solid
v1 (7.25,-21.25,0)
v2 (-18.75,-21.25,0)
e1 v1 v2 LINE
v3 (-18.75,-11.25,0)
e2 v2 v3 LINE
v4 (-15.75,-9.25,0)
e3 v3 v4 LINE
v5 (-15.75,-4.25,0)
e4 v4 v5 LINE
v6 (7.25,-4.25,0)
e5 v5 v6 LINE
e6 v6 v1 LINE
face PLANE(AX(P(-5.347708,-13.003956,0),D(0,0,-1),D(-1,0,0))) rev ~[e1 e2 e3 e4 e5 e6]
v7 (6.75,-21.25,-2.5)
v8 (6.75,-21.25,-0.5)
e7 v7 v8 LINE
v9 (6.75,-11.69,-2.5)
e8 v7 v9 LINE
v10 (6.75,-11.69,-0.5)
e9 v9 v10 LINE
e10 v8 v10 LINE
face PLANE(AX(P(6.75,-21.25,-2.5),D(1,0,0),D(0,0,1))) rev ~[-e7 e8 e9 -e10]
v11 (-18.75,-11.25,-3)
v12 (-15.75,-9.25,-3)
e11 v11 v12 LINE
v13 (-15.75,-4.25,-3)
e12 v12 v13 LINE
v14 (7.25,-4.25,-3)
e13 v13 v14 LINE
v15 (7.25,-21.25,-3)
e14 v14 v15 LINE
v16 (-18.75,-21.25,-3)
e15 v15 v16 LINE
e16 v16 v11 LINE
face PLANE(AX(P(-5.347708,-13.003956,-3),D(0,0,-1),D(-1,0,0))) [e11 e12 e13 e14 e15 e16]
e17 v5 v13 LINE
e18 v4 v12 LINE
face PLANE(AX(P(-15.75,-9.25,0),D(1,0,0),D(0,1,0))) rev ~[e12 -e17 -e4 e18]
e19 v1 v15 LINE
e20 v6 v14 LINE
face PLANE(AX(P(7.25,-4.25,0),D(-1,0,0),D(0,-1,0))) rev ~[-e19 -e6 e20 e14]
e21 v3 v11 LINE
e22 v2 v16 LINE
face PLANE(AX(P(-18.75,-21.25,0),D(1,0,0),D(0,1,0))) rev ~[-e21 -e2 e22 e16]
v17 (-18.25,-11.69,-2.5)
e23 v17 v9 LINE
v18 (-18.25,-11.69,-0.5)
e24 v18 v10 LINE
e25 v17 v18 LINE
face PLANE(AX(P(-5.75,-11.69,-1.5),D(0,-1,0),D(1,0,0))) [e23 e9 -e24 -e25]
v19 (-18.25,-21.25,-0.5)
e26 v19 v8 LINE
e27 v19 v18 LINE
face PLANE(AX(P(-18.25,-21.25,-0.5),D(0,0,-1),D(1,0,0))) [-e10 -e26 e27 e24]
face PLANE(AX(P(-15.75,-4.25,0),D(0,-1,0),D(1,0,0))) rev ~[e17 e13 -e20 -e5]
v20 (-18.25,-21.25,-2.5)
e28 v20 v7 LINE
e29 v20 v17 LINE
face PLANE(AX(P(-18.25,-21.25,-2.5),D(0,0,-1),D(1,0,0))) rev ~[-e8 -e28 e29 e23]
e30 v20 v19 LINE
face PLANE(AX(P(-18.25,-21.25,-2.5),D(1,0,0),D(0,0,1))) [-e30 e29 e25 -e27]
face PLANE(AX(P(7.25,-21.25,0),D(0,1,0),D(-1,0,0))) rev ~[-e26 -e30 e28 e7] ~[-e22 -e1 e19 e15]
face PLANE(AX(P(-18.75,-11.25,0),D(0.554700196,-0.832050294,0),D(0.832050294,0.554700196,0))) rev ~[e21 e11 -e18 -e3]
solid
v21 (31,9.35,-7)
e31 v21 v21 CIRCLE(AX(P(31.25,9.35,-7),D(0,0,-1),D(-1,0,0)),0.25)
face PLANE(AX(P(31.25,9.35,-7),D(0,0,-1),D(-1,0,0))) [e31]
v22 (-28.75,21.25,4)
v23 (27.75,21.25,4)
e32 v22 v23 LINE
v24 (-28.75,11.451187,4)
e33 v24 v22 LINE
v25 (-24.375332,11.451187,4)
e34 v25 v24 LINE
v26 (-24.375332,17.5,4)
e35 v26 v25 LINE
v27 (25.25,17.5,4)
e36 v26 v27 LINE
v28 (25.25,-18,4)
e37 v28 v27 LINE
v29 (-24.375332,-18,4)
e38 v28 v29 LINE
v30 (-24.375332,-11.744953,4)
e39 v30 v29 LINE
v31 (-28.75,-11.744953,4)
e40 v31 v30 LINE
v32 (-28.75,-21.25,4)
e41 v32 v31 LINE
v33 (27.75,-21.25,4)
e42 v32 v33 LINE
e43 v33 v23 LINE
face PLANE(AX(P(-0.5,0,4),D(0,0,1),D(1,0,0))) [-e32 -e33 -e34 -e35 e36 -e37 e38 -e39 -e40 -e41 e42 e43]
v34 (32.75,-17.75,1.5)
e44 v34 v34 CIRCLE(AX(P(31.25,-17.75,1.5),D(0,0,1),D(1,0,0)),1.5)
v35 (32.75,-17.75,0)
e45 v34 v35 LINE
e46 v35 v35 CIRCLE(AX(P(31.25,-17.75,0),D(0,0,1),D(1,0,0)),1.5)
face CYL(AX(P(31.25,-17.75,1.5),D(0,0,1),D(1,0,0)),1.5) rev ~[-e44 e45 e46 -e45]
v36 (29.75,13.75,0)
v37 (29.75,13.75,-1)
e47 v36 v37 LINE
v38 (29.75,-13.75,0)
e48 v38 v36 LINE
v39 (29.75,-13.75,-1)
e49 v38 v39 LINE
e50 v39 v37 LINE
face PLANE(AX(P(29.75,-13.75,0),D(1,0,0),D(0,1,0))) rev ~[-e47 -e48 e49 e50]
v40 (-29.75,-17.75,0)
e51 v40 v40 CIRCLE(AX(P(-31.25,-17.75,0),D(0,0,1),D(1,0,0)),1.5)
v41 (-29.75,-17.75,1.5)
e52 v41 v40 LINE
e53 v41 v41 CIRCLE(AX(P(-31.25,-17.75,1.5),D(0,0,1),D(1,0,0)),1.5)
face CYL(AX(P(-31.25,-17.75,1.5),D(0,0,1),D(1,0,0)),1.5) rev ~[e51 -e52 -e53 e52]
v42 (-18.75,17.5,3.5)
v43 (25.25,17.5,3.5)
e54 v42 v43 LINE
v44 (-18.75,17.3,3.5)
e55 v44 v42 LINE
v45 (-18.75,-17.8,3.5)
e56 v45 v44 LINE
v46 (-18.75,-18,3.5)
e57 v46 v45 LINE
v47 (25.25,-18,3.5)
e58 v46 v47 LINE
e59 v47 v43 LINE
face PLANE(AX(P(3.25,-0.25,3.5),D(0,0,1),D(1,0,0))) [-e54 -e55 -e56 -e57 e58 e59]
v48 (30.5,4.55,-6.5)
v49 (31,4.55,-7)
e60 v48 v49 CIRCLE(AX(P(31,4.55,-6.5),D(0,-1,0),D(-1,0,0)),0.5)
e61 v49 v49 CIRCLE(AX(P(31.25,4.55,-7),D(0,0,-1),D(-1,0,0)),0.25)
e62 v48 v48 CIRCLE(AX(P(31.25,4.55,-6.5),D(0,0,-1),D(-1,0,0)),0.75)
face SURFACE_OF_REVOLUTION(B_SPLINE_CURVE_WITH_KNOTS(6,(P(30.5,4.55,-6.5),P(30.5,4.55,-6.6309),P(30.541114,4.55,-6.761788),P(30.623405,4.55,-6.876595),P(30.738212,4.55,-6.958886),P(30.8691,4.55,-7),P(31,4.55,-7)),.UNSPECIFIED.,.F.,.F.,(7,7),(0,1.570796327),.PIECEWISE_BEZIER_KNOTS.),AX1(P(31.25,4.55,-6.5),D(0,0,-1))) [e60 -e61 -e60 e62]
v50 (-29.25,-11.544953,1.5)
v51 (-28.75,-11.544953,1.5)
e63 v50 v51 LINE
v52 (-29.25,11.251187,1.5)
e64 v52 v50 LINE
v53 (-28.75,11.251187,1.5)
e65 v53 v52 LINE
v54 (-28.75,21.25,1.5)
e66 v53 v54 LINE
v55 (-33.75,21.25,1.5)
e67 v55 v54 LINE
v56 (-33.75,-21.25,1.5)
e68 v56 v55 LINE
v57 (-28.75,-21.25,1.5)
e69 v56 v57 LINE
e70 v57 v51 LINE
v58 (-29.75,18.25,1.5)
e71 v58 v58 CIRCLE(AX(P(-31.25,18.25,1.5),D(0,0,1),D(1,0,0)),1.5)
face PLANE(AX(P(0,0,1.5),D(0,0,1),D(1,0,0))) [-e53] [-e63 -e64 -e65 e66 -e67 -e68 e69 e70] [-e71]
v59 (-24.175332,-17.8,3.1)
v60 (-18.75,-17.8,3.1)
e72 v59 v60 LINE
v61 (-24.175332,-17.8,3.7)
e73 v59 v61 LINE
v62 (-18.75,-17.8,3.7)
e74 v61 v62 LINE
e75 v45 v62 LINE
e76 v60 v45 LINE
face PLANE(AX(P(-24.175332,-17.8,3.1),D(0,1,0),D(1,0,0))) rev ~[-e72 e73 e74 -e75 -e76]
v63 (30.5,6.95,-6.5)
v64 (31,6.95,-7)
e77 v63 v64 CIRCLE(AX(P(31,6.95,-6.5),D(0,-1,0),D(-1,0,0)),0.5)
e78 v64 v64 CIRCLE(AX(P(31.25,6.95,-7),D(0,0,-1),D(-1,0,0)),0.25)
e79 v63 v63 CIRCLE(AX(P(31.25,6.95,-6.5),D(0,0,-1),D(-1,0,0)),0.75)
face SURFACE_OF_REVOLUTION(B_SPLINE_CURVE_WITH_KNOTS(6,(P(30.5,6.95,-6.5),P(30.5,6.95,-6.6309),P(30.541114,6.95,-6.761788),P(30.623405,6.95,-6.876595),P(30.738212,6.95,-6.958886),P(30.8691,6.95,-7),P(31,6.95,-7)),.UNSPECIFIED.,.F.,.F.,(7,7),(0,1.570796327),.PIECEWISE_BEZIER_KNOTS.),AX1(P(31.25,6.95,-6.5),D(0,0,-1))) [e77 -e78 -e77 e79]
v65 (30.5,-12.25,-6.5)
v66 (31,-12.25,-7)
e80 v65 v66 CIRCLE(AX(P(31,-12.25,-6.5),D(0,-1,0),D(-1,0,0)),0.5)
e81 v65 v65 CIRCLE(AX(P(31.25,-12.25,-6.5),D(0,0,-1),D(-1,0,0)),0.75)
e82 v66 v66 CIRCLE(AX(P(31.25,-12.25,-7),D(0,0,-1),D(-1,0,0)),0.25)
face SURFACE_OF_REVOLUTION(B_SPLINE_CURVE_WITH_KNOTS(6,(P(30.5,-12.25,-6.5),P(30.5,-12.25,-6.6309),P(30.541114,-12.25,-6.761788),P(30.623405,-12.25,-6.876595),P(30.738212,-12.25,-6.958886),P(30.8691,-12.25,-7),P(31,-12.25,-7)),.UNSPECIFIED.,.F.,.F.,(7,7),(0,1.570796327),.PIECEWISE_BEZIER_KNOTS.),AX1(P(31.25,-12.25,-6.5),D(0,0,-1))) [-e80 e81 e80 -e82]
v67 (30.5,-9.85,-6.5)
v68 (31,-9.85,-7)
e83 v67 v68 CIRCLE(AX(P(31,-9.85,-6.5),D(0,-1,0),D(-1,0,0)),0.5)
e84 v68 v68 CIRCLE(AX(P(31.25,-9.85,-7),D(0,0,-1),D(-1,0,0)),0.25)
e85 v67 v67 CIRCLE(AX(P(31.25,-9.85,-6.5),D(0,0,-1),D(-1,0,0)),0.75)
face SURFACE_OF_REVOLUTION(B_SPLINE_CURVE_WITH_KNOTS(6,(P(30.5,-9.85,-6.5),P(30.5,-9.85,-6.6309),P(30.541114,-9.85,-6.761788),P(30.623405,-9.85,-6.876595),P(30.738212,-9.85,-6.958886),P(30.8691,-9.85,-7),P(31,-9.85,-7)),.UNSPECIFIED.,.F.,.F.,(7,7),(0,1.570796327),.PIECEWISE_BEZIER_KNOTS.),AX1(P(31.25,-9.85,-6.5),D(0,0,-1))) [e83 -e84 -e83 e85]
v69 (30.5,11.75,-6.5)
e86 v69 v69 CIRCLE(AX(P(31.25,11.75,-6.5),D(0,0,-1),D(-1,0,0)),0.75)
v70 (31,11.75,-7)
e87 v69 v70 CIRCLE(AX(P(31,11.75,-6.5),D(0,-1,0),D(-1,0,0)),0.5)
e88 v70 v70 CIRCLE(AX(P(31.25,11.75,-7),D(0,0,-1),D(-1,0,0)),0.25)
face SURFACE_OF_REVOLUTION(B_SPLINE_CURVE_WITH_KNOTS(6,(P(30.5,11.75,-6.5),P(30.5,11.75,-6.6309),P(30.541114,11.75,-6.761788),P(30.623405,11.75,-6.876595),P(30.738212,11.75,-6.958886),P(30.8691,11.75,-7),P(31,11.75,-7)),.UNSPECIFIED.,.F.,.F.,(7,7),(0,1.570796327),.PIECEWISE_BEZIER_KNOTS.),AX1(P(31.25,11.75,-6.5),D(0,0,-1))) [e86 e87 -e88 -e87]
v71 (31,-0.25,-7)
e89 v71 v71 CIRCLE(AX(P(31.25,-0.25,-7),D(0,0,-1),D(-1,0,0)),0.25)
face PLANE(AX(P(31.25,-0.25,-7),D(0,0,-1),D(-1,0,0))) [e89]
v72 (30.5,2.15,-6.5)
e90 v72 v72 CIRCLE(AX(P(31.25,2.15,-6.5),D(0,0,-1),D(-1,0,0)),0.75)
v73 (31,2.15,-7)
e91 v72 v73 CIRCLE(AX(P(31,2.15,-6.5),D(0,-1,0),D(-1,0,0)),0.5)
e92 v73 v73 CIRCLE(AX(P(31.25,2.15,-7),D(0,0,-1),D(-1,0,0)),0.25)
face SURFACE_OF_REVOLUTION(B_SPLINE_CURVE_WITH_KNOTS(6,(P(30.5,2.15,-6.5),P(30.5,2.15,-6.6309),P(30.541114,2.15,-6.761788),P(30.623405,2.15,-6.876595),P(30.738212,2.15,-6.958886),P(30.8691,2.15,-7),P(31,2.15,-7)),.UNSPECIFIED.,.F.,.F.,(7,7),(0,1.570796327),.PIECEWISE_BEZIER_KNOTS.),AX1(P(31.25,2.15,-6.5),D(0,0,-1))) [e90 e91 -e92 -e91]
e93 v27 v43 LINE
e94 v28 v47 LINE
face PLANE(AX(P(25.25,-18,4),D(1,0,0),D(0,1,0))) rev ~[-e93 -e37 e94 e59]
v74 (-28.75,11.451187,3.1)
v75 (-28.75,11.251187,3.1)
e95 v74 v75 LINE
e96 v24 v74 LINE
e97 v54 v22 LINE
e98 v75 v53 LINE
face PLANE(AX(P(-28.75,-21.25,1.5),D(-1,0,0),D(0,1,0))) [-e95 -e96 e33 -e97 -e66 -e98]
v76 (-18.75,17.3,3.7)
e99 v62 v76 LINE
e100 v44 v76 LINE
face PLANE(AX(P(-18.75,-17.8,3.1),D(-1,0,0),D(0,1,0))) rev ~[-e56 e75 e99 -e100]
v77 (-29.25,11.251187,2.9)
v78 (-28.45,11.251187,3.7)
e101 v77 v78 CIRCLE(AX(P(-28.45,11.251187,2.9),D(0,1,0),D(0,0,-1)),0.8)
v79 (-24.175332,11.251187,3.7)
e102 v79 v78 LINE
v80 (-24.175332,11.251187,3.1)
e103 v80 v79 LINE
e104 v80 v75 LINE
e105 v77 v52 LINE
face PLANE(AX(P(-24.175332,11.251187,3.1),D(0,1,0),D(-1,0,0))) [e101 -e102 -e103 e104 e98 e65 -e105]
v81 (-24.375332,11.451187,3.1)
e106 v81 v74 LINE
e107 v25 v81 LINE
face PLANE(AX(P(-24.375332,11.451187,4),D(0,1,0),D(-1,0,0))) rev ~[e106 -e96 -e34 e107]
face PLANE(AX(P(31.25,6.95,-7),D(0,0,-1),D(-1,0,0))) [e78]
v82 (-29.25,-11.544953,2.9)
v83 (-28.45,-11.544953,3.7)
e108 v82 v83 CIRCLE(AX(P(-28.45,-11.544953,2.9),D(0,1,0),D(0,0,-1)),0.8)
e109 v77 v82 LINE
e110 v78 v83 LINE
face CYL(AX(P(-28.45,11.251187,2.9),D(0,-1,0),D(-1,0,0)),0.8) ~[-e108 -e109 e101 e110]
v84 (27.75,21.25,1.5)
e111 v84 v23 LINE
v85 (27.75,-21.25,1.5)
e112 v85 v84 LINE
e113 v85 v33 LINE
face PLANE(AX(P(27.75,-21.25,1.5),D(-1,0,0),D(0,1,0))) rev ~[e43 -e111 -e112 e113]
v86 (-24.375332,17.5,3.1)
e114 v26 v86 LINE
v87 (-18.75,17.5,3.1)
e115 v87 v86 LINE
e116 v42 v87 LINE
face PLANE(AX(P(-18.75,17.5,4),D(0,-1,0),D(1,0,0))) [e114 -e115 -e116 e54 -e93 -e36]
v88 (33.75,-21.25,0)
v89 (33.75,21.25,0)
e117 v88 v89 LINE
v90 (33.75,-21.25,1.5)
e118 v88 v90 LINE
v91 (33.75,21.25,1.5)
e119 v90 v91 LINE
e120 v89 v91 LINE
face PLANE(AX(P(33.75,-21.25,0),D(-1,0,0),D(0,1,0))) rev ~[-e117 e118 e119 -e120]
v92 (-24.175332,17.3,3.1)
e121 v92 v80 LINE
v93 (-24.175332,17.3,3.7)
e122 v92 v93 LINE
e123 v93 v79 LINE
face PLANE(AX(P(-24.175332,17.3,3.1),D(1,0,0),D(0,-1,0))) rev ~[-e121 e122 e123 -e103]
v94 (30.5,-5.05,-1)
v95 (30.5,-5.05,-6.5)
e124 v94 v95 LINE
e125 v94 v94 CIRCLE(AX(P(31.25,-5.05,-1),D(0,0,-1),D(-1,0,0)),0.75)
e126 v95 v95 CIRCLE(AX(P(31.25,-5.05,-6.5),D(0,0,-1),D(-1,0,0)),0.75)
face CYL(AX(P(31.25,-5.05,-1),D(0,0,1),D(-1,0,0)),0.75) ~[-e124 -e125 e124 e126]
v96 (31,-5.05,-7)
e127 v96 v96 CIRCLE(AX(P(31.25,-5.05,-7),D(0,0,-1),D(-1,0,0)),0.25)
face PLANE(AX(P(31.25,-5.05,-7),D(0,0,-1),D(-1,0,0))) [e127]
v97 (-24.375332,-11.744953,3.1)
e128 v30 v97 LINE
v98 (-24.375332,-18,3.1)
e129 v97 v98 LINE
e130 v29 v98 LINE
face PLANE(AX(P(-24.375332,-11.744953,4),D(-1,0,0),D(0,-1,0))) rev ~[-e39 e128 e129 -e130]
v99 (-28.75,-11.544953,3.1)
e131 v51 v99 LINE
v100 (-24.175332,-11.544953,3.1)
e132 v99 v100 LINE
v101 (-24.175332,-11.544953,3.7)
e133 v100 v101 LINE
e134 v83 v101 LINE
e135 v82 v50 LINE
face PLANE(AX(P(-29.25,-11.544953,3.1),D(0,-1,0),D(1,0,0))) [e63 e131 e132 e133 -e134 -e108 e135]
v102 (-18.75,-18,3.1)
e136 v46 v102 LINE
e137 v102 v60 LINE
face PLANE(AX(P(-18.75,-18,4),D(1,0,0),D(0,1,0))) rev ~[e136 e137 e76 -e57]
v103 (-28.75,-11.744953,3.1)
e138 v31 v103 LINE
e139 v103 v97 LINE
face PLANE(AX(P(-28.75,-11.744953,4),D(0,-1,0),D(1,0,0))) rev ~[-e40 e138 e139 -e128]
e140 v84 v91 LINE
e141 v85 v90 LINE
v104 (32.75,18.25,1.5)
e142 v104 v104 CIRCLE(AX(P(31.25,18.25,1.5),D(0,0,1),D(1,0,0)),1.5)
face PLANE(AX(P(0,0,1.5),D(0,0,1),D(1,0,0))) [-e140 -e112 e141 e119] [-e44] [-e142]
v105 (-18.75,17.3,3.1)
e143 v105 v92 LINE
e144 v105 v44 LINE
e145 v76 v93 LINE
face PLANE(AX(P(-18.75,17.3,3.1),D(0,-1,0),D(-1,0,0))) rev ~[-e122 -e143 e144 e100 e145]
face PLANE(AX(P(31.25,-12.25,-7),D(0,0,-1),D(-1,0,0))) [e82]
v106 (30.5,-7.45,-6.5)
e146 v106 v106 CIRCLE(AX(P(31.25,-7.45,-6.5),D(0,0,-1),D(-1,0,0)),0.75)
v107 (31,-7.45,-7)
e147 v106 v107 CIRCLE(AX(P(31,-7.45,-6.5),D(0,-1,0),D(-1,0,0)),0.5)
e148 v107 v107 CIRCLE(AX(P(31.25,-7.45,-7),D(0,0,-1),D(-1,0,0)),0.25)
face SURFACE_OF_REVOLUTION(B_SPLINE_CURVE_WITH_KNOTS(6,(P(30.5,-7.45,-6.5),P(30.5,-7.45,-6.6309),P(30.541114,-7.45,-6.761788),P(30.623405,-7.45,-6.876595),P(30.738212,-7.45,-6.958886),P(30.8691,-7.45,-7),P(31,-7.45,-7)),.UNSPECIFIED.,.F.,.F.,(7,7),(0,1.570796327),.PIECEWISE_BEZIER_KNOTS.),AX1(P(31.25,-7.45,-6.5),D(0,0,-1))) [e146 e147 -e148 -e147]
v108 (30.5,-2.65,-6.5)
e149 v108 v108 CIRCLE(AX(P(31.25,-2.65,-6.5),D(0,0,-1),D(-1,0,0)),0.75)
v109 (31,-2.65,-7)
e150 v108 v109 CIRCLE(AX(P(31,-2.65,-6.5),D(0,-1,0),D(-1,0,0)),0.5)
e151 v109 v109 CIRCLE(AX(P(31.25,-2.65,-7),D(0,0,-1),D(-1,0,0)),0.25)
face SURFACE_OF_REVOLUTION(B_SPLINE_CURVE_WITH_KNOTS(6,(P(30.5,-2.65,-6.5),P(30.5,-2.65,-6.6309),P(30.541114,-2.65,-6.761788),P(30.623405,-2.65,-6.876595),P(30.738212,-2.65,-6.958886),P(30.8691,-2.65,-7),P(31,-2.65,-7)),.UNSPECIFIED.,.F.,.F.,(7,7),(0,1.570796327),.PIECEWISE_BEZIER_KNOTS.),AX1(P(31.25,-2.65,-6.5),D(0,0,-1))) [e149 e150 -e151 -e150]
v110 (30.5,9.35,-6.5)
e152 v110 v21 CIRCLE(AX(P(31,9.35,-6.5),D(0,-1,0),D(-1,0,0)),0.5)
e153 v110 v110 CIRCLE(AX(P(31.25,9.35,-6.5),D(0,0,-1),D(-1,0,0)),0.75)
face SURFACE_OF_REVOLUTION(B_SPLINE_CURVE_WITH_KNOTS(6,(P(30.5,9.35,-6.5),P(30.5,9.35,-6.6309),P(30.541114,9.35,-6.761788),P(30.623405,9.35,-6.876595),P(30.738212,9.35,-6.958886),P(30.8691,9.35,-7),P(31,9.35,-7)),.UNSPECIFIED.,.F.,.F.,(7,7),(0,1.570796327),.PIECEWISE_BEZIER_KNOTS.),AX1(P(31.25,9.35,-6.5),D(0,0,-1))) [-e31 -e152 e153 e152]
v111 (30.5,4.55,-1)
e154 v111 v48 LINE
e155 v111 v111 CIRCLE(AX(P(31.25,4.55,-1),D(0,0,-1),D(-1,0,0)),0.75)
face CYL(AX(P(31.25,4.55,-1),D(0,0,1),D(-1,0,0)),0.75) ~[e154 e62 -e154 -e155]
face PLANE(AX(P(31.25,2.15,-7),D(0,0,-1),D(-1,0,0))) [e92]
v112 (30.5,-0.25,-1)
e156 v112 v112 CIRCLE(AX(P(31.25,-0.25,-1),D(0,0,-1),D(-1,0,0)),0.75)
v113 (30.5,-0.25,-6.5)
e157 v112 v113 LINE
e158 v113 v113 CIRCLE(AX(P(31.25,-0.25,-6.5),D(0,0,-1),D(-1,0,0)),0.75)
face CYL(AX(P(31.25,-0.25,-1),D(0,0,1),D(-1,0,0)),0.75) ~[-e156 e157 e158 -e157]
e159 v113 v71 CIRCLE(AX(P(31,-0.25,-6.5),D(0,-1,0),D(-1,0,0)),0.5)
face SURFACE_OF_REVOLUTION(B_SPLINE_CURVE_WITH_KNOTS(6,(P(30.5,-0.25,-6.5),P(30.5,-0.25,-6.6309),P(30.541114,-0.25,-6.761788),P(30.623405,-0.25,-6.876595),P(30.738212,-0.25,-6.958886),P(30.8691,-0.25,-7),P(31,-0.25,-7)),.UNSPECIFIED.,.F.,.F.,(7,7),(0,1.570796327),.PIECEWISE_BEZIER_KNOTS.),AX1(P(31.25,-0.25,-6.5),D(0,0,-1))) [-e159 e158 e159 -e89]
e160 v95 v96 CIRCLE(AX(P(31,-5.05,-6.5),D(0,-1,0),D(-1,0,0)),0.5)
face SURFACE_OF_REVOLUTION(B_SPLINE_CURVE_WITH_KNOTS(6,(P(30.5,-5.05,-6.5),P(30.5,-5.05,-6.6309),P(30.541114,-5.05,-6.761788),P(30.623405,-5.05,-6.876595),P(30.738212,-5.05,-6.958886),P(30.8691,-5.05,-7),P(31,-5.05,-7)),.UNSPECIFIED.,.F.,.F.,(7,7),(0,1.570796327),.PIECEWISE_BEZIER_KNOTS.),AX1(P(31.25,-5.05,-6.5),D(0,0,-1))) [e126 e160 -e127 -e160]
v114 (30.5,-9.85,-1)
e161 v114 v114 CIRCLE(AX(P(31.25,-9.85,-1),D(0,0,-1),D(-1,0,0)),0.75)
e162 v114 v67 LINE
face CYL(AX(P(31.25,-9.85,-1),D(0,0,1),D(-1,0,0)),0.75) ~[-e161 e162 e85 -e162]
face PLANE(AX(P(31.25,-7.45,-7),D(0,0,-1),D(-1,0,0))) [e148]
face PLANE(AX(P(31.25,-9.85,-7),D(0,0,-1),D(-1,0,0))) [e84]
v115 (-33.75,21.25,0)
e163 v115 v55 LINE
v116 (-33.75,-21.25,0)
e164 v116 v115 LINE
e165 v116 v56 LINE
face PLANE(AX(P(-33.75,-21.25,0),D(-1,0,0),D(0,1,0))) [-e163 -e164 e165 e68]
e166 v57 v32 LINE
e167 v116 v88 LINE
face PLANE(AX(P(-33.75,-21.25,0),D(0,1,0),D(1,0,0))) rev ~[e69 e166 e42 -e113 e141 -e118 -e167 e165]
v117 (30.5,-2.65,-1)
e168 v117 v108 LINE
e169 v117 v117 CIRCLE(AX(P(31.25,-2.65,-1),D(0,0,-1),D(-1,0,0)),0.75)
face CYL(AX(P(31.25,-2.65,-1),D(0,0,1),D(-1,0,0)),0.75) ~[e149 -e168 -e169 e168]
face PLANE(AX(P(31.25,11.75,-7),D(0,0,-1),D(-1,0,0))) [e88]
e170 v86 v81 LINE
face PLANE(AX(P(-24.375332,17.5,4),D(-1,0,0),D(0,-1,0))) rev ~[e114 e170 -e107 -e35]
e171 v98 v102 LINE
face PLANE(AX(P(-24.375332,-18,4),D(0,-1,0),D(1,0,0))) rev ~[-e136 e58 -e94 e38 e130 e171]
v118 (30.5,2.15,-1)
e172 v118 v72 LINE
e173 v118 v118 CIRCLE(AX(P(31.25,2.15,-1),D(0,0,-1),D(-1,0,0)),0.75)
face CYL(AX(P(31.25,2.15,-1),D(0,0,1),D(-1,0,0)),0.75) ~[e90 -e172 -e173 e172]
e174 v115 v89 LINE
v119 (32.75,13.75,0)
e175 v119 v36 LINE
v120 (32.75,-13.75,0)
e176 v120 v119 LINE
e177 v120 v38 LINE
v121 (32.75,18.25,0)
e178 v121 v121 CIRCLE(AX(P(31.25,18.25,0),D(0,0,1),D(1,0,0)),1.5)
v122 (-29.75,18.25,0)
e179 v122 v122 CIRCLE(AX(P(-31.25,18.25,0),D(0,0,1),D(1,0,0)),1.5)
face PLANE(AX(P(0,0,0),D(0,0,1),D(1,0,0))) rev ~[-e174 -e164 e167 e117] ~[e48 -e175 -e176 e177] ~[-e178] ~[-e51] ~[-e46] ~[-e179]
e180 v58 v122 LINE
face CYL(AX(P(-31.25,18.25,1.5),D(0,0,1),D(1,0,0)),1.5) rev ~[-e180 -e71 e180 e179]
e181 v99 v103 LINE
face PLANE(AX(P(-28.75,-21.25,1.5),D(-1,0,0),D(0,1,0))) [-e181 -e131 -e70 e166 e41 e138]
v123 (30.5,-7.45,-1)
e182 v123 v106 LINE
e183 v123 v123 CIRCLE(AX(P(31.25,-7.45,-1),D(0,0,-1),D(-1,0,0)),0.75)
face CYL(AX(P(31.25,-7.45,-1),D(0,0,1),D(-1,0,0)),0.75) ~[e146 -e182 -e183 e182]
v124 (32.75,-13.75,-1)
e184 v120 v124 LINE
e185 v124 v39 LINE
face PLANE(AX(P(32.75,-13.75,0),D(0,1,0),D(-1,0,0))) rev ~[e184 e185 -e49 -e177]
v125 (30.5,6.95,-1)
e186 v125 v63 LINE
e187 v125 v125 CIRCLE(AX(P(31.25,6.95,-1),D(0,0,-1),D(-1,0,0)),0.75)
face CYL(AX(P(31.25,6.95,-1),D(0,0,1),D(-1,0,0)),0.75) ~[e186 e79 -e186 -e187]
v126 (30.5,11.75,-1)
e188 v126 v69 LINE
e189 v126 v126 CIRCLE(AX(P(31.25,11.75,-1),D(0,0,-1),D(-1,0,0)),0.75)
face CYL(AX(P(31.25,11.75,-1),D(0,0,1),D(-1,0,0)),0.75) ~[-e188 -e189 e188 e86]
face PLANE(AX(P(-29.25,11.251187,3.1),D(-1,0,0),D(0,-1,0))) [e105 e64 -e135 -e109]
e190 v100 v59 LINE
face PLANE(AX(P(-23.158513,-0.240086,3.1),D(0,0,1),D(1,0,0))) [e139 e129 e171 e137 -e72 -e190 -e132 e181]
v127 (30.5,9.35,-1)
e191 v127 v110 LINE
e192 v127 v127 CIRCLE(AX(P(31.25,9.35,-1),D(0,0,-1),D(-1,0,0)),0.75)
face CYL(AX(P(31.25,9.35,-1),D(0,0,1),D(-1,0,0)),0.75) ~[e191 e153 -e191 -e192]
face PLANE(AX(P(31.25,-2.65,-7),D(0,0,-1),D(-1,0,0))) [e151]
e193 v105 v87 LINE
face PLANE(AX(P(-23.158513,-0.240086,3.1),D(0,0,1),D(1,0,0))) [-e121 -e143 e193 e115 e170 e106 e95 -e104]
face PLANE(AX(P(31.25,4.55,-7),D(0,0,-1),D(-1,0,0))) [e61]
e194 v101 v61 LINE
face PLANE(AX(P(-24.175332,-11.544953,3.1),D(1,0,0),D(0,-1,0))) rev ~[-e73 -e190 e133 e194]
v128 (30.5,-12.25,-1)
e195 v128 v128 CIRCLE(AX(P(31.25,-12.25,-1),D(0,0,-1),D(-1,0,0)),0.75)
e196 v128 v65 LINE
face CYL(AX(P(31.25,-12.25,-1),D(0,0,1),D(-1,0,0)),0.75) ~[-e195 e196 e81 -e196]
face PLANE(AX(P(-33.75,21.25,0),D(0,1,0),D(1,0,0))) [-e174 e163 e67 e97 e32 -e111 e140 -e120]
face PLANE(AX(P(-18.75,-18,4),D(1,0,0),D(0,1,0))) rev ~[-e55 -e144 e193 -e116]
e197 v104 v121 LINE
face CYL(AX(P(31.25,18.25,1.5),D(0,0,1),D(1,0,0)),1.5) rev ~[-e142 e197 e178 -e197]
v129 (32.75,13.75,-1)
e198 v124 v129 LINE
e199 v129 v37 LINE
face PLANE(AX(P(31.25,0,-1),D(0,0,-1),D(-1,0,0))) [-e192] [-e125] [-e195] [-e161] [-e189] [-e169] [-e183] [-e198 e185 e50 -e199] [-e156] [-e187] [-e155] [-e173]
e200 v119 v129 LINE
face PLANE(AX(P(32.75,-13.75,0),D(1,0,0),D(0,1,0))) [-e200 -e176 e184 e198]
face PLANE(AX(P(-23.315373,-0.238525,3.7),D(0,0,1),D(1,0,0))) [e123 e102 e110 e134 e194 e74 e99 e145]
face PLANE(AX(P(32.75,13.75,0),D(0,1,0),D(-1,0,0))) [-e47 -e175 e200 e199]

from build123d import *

# Parameters (mm, degrees)
SKIZZE1_W                            = 67.5
SKIZZE1_H                            = 42.5
AUFSATZ_LINEAR_AUSTRAGEN1_DEPTH      = 1.5
SKIZZE2_W                            = 56.5
SKIZZE2_H                            = 42.5
AUFSATZ_LINEAR_AUSTRAGEN2_DEPTH      = 2.5
SKIZZE3_R                            = 1.5
SCHNITT_LINEAR_AUSTRAGEN1_DEPTH      = 2.5
LINEARES_MUSTER1_COUNT               = 2
LINEARES_MUSTER1_PITCH               = 62.5
AUFSATZ_LINEAR_AUSTRAGEN3_DEPTH      = 3
SKIZZE5_W                            = 44
SKIZZE5_H                            = 35.5
SCHNITT_LINEAR_AUSTRAGEN2_DEPTH      = 0.5
SCHNITT_LINEAR_AUSTRAGEN3_DEPTH      = 0.9
AUFSATZ_LINEAR_AUSTRAGEN4_DEPTH      = 0.6
AUFSATZ_LINEAR_AUSTRAGEN4_DEPTH_BACK = 1.6
VERRUNDUNG6_R                        = 0.8
SKIZZE8_W                            = 25
SKIZZE8_H                            = 2
SCHNITT_LINEAR_AUSTRAGEN4_DEPTH      = 9.56
SKIZZE9_W                            = 3
SKIZZE9_H                            = 27.5
AUFSATZ_LINEAR_AUSTRAGEN5_DEPTH      = 1
SKIZZE10_R                           = 0.75
AUFSATZ_LINEAR_AUSTRAGEN6_DEPTH      = 6
VERRUNDUNG18_R                       = 0.5


with BuildPart() as part:
    # Skizze1 → Aufsatz-Linear austragen1 (new body)
    with BuildSketch(Plane.XY):
        Rectangle(SKIZZE1_W, SKIZZE1_H)
    extrude(amount=AUFSATZ_LINEAR_AUSTRAGEN1_DEPTH)

    # Skizze3 → Schnitt-Linear austragen1 (cut, through all)
    with BuildSketch(Plane.XY.offset(1.5)):
        with Locations((-31.25, -17.75)):
            Circle(SKIZZE3_R)
        with Locations((-31.25, 18.25)):
            Circle(SKIZZE3_R)
    schnitt_linear_austragen1 = extrude(amount=-SCHNITT_LINEAR_AUSTRAGEN1_DEPTH, mode=Mode.SUBTRACT)

    # Lineares Muster1: Schnitt-Linear austragen1 ×2
    with Locations(*[(i * LINEARES_MUSTER1_PITCH, 0, 0) for i in range(1, LINEARES_MUSTER1_COUNT)]):
        add(schnitt_linear_austragen1, mode=Mode.SUBTRACT)



with BuildPart() as body_2:
    # Skizze2 → Aufsatz-Linear austragen2 (new body)
    with BuildSketch(Plane.XY.offset(1.5)):
        with Locations((-0.5, 0)):
            Rectangle(SKIZZE2_W, SKIZZE2_H)
    extrude(amount=AUFSATZ_LINEAR_AUSTRAGEN2_DEPTH)

    # Skizze5 → Schnitt-Linear austragen2 (cut)
    with BuildSketch(Plane.XY.offset(4)):
        with Locations((3.25, -0.25)):
            Rectangle(SKIZZE5_W, SKIZZE5_H)
    extrude(amount=-SCHNITT_LINEAR_AUSTRAGEN2_DEPTH, mode=Mode.SUBTRACT)

    # Skizze6 → Schnitt-Linear austragen3 (cut)
    with BuildSketch(Plane.XY.offset(4)):
        Polygon((-18.75, 17.5), (-24.375332321, 17.5), (-24.375332321, 11.451186515), (-28.75, 11.451186515), (-28.75, -11.744953417), (-24.375332321, -11.744953417), (-24.375332321, -18), (-18.75, -18), align=None)
    extrude(amount=-SCHNITT_LINEAR_AUSTRAGEN3_DEPTH, mode=Mode.SUBTRACT)


with BuildPart() as body_3:
    # Skizze4 → Aufsatz-Linear austragen3 (new body)
    with BuildSketch(Plane(origin=(0, 0, 0), x_dir=(-1, 0, 0), z_dir=(0, 0, -1))):
        Polygon((18.75, -21.25), (18.75, -11.25), (15.75, -9.25), (15.75, -4.25), (-7.25, -4.25), (-7.25, -21.25), align=None)
    extrude(amount=AUFSATZ_LINEAR_AUSTRAGEN3_DEPTH)

    # Skizze8 → Schnitt-Linear austragen4 (cut)
    with BuildSketch(Plane.XZ.offset(21.25)):
        with Locations((-5.75, -1.5)):
            Rectangle(SKIZZE8_W, SKIZZE8_H)
    extrude(amount=-SCHNITT_LINEAR_AUSTRAGEN4_DEPTH, mode=Mode.SUBTRACT)


with BuildPart() as part_1:
    add(part.part)

    add(body_2.part)  # Aufsatz-Linear austragen4 merges body 2
    # Skizze7 → Aufsatz-Linear austragen4 (add, two sides)
    with BuildSketch(Plane.XY.offset(3.1)) as aufsatz_linear_austragen4_sk:
        Polygon((-18.75, 17.3), (-24.175332321, 17.3), (-24.175332321, 11.251186515), (-29.25, 11.251186515), (-29.25, -11.544953417), (-24.175332321, -11.544953417), (-24.175332321, -17.8), (-18.75, -17.8), align=None)
    extrude(amount=AUFSATZ_LINEAR_AUSTRAGEN4_DEPTH)
    extrude(aufsatz_linear_austragen4_sk.sketch, amount=-AUFSATZ_LINEAR_AUSTRAGEN4_DEPTH_BACK)

    # Verrundung6
    verrundung6_edges = [part_1.edges().sort_by_distance(p)[0] for p in [
        (-29.25, -0.146883451, 3.7),
    ]]
    fillet(verrundung6_edges, radius=VERRUNDUNG6_R)

    # Skizze9 → Aufsatz-Linear austragen5 (add)
    with BuildSketch(Plane(origin=(0, 0, 0), x_dir=(-1, 0, 0), z_dir=(0, 0, -1))):
        with Locations((-31.25, 0)):
            Rectangle(SKIZZE9_W, SKIZZE9_H)
    extrude(amount=AUFSATZ_LINEAR_AUSTRAGEN5_DEPTH)

    # Skizze10 → Aufsatz-Linear austragen6 (add)
    with BuildSketch(Plane(origin=(0, 0, -1), x_dir=(-1, 0, 0), z_dir=(0, 0, -1))):
        with Locations((-31.25, -12.25)):
            Circle(SKIZZE10_R)
        with Locations((-31.25, -9.85)):
            Circle(SKIZZE10_R)
        with Locations((-31.25, -7.45)):
            Circle(SKIZZE10_R)
        with Locations((-31.25, -5.05)):
            Circle(SKIZZE10_R)
        with Locations((-31.25, -2.65)):
            Circle(SKIZZE10_R)
        with Locations((-31.25, -0.25)):
            Circle(SKIZZE10_R)
        with Locations((-31.25, 2.15)):
            Circle(SKIZZE10_R)
        with Locations((-31.25, 4.55)):
            Circle(SKIZZE10_R)
        with Locations((-31.25, 6.95)):
            Circle(SKIZZE10_R)
        with Locations((-31.25, 9.35)):
            Circle(SKIZZE10_R)
        with Locations((-31.25, 11.75)):
            Circle(SKIZZE10_R)
    extrude(amount=AUFSATZ_LINEAR_AUSTRAGEN6_DEPTH)

    # Verrundung18
    verrundung18_edges = [part_1.edges().sort_by_distance(p)[0] for p in [
        (32, -12.25, -7),
        (32, -9.85, -7),
        (32, -7.45, -7),
        (32, -5.05, -7),
        (32, -2.65, -7),
        (32, -0.25, -7),
        (32, 2.15, -7),
        (32, 4.55, -7),
        (32, 6.95, -7),
        (32, 9.35, -7),
        (32, 11.75, -7),
    ]]
    fillet(verrundung18_edges, radius=VERRUNDUNG18_R)


solid = Compound([body_3.part, part_1.part])
